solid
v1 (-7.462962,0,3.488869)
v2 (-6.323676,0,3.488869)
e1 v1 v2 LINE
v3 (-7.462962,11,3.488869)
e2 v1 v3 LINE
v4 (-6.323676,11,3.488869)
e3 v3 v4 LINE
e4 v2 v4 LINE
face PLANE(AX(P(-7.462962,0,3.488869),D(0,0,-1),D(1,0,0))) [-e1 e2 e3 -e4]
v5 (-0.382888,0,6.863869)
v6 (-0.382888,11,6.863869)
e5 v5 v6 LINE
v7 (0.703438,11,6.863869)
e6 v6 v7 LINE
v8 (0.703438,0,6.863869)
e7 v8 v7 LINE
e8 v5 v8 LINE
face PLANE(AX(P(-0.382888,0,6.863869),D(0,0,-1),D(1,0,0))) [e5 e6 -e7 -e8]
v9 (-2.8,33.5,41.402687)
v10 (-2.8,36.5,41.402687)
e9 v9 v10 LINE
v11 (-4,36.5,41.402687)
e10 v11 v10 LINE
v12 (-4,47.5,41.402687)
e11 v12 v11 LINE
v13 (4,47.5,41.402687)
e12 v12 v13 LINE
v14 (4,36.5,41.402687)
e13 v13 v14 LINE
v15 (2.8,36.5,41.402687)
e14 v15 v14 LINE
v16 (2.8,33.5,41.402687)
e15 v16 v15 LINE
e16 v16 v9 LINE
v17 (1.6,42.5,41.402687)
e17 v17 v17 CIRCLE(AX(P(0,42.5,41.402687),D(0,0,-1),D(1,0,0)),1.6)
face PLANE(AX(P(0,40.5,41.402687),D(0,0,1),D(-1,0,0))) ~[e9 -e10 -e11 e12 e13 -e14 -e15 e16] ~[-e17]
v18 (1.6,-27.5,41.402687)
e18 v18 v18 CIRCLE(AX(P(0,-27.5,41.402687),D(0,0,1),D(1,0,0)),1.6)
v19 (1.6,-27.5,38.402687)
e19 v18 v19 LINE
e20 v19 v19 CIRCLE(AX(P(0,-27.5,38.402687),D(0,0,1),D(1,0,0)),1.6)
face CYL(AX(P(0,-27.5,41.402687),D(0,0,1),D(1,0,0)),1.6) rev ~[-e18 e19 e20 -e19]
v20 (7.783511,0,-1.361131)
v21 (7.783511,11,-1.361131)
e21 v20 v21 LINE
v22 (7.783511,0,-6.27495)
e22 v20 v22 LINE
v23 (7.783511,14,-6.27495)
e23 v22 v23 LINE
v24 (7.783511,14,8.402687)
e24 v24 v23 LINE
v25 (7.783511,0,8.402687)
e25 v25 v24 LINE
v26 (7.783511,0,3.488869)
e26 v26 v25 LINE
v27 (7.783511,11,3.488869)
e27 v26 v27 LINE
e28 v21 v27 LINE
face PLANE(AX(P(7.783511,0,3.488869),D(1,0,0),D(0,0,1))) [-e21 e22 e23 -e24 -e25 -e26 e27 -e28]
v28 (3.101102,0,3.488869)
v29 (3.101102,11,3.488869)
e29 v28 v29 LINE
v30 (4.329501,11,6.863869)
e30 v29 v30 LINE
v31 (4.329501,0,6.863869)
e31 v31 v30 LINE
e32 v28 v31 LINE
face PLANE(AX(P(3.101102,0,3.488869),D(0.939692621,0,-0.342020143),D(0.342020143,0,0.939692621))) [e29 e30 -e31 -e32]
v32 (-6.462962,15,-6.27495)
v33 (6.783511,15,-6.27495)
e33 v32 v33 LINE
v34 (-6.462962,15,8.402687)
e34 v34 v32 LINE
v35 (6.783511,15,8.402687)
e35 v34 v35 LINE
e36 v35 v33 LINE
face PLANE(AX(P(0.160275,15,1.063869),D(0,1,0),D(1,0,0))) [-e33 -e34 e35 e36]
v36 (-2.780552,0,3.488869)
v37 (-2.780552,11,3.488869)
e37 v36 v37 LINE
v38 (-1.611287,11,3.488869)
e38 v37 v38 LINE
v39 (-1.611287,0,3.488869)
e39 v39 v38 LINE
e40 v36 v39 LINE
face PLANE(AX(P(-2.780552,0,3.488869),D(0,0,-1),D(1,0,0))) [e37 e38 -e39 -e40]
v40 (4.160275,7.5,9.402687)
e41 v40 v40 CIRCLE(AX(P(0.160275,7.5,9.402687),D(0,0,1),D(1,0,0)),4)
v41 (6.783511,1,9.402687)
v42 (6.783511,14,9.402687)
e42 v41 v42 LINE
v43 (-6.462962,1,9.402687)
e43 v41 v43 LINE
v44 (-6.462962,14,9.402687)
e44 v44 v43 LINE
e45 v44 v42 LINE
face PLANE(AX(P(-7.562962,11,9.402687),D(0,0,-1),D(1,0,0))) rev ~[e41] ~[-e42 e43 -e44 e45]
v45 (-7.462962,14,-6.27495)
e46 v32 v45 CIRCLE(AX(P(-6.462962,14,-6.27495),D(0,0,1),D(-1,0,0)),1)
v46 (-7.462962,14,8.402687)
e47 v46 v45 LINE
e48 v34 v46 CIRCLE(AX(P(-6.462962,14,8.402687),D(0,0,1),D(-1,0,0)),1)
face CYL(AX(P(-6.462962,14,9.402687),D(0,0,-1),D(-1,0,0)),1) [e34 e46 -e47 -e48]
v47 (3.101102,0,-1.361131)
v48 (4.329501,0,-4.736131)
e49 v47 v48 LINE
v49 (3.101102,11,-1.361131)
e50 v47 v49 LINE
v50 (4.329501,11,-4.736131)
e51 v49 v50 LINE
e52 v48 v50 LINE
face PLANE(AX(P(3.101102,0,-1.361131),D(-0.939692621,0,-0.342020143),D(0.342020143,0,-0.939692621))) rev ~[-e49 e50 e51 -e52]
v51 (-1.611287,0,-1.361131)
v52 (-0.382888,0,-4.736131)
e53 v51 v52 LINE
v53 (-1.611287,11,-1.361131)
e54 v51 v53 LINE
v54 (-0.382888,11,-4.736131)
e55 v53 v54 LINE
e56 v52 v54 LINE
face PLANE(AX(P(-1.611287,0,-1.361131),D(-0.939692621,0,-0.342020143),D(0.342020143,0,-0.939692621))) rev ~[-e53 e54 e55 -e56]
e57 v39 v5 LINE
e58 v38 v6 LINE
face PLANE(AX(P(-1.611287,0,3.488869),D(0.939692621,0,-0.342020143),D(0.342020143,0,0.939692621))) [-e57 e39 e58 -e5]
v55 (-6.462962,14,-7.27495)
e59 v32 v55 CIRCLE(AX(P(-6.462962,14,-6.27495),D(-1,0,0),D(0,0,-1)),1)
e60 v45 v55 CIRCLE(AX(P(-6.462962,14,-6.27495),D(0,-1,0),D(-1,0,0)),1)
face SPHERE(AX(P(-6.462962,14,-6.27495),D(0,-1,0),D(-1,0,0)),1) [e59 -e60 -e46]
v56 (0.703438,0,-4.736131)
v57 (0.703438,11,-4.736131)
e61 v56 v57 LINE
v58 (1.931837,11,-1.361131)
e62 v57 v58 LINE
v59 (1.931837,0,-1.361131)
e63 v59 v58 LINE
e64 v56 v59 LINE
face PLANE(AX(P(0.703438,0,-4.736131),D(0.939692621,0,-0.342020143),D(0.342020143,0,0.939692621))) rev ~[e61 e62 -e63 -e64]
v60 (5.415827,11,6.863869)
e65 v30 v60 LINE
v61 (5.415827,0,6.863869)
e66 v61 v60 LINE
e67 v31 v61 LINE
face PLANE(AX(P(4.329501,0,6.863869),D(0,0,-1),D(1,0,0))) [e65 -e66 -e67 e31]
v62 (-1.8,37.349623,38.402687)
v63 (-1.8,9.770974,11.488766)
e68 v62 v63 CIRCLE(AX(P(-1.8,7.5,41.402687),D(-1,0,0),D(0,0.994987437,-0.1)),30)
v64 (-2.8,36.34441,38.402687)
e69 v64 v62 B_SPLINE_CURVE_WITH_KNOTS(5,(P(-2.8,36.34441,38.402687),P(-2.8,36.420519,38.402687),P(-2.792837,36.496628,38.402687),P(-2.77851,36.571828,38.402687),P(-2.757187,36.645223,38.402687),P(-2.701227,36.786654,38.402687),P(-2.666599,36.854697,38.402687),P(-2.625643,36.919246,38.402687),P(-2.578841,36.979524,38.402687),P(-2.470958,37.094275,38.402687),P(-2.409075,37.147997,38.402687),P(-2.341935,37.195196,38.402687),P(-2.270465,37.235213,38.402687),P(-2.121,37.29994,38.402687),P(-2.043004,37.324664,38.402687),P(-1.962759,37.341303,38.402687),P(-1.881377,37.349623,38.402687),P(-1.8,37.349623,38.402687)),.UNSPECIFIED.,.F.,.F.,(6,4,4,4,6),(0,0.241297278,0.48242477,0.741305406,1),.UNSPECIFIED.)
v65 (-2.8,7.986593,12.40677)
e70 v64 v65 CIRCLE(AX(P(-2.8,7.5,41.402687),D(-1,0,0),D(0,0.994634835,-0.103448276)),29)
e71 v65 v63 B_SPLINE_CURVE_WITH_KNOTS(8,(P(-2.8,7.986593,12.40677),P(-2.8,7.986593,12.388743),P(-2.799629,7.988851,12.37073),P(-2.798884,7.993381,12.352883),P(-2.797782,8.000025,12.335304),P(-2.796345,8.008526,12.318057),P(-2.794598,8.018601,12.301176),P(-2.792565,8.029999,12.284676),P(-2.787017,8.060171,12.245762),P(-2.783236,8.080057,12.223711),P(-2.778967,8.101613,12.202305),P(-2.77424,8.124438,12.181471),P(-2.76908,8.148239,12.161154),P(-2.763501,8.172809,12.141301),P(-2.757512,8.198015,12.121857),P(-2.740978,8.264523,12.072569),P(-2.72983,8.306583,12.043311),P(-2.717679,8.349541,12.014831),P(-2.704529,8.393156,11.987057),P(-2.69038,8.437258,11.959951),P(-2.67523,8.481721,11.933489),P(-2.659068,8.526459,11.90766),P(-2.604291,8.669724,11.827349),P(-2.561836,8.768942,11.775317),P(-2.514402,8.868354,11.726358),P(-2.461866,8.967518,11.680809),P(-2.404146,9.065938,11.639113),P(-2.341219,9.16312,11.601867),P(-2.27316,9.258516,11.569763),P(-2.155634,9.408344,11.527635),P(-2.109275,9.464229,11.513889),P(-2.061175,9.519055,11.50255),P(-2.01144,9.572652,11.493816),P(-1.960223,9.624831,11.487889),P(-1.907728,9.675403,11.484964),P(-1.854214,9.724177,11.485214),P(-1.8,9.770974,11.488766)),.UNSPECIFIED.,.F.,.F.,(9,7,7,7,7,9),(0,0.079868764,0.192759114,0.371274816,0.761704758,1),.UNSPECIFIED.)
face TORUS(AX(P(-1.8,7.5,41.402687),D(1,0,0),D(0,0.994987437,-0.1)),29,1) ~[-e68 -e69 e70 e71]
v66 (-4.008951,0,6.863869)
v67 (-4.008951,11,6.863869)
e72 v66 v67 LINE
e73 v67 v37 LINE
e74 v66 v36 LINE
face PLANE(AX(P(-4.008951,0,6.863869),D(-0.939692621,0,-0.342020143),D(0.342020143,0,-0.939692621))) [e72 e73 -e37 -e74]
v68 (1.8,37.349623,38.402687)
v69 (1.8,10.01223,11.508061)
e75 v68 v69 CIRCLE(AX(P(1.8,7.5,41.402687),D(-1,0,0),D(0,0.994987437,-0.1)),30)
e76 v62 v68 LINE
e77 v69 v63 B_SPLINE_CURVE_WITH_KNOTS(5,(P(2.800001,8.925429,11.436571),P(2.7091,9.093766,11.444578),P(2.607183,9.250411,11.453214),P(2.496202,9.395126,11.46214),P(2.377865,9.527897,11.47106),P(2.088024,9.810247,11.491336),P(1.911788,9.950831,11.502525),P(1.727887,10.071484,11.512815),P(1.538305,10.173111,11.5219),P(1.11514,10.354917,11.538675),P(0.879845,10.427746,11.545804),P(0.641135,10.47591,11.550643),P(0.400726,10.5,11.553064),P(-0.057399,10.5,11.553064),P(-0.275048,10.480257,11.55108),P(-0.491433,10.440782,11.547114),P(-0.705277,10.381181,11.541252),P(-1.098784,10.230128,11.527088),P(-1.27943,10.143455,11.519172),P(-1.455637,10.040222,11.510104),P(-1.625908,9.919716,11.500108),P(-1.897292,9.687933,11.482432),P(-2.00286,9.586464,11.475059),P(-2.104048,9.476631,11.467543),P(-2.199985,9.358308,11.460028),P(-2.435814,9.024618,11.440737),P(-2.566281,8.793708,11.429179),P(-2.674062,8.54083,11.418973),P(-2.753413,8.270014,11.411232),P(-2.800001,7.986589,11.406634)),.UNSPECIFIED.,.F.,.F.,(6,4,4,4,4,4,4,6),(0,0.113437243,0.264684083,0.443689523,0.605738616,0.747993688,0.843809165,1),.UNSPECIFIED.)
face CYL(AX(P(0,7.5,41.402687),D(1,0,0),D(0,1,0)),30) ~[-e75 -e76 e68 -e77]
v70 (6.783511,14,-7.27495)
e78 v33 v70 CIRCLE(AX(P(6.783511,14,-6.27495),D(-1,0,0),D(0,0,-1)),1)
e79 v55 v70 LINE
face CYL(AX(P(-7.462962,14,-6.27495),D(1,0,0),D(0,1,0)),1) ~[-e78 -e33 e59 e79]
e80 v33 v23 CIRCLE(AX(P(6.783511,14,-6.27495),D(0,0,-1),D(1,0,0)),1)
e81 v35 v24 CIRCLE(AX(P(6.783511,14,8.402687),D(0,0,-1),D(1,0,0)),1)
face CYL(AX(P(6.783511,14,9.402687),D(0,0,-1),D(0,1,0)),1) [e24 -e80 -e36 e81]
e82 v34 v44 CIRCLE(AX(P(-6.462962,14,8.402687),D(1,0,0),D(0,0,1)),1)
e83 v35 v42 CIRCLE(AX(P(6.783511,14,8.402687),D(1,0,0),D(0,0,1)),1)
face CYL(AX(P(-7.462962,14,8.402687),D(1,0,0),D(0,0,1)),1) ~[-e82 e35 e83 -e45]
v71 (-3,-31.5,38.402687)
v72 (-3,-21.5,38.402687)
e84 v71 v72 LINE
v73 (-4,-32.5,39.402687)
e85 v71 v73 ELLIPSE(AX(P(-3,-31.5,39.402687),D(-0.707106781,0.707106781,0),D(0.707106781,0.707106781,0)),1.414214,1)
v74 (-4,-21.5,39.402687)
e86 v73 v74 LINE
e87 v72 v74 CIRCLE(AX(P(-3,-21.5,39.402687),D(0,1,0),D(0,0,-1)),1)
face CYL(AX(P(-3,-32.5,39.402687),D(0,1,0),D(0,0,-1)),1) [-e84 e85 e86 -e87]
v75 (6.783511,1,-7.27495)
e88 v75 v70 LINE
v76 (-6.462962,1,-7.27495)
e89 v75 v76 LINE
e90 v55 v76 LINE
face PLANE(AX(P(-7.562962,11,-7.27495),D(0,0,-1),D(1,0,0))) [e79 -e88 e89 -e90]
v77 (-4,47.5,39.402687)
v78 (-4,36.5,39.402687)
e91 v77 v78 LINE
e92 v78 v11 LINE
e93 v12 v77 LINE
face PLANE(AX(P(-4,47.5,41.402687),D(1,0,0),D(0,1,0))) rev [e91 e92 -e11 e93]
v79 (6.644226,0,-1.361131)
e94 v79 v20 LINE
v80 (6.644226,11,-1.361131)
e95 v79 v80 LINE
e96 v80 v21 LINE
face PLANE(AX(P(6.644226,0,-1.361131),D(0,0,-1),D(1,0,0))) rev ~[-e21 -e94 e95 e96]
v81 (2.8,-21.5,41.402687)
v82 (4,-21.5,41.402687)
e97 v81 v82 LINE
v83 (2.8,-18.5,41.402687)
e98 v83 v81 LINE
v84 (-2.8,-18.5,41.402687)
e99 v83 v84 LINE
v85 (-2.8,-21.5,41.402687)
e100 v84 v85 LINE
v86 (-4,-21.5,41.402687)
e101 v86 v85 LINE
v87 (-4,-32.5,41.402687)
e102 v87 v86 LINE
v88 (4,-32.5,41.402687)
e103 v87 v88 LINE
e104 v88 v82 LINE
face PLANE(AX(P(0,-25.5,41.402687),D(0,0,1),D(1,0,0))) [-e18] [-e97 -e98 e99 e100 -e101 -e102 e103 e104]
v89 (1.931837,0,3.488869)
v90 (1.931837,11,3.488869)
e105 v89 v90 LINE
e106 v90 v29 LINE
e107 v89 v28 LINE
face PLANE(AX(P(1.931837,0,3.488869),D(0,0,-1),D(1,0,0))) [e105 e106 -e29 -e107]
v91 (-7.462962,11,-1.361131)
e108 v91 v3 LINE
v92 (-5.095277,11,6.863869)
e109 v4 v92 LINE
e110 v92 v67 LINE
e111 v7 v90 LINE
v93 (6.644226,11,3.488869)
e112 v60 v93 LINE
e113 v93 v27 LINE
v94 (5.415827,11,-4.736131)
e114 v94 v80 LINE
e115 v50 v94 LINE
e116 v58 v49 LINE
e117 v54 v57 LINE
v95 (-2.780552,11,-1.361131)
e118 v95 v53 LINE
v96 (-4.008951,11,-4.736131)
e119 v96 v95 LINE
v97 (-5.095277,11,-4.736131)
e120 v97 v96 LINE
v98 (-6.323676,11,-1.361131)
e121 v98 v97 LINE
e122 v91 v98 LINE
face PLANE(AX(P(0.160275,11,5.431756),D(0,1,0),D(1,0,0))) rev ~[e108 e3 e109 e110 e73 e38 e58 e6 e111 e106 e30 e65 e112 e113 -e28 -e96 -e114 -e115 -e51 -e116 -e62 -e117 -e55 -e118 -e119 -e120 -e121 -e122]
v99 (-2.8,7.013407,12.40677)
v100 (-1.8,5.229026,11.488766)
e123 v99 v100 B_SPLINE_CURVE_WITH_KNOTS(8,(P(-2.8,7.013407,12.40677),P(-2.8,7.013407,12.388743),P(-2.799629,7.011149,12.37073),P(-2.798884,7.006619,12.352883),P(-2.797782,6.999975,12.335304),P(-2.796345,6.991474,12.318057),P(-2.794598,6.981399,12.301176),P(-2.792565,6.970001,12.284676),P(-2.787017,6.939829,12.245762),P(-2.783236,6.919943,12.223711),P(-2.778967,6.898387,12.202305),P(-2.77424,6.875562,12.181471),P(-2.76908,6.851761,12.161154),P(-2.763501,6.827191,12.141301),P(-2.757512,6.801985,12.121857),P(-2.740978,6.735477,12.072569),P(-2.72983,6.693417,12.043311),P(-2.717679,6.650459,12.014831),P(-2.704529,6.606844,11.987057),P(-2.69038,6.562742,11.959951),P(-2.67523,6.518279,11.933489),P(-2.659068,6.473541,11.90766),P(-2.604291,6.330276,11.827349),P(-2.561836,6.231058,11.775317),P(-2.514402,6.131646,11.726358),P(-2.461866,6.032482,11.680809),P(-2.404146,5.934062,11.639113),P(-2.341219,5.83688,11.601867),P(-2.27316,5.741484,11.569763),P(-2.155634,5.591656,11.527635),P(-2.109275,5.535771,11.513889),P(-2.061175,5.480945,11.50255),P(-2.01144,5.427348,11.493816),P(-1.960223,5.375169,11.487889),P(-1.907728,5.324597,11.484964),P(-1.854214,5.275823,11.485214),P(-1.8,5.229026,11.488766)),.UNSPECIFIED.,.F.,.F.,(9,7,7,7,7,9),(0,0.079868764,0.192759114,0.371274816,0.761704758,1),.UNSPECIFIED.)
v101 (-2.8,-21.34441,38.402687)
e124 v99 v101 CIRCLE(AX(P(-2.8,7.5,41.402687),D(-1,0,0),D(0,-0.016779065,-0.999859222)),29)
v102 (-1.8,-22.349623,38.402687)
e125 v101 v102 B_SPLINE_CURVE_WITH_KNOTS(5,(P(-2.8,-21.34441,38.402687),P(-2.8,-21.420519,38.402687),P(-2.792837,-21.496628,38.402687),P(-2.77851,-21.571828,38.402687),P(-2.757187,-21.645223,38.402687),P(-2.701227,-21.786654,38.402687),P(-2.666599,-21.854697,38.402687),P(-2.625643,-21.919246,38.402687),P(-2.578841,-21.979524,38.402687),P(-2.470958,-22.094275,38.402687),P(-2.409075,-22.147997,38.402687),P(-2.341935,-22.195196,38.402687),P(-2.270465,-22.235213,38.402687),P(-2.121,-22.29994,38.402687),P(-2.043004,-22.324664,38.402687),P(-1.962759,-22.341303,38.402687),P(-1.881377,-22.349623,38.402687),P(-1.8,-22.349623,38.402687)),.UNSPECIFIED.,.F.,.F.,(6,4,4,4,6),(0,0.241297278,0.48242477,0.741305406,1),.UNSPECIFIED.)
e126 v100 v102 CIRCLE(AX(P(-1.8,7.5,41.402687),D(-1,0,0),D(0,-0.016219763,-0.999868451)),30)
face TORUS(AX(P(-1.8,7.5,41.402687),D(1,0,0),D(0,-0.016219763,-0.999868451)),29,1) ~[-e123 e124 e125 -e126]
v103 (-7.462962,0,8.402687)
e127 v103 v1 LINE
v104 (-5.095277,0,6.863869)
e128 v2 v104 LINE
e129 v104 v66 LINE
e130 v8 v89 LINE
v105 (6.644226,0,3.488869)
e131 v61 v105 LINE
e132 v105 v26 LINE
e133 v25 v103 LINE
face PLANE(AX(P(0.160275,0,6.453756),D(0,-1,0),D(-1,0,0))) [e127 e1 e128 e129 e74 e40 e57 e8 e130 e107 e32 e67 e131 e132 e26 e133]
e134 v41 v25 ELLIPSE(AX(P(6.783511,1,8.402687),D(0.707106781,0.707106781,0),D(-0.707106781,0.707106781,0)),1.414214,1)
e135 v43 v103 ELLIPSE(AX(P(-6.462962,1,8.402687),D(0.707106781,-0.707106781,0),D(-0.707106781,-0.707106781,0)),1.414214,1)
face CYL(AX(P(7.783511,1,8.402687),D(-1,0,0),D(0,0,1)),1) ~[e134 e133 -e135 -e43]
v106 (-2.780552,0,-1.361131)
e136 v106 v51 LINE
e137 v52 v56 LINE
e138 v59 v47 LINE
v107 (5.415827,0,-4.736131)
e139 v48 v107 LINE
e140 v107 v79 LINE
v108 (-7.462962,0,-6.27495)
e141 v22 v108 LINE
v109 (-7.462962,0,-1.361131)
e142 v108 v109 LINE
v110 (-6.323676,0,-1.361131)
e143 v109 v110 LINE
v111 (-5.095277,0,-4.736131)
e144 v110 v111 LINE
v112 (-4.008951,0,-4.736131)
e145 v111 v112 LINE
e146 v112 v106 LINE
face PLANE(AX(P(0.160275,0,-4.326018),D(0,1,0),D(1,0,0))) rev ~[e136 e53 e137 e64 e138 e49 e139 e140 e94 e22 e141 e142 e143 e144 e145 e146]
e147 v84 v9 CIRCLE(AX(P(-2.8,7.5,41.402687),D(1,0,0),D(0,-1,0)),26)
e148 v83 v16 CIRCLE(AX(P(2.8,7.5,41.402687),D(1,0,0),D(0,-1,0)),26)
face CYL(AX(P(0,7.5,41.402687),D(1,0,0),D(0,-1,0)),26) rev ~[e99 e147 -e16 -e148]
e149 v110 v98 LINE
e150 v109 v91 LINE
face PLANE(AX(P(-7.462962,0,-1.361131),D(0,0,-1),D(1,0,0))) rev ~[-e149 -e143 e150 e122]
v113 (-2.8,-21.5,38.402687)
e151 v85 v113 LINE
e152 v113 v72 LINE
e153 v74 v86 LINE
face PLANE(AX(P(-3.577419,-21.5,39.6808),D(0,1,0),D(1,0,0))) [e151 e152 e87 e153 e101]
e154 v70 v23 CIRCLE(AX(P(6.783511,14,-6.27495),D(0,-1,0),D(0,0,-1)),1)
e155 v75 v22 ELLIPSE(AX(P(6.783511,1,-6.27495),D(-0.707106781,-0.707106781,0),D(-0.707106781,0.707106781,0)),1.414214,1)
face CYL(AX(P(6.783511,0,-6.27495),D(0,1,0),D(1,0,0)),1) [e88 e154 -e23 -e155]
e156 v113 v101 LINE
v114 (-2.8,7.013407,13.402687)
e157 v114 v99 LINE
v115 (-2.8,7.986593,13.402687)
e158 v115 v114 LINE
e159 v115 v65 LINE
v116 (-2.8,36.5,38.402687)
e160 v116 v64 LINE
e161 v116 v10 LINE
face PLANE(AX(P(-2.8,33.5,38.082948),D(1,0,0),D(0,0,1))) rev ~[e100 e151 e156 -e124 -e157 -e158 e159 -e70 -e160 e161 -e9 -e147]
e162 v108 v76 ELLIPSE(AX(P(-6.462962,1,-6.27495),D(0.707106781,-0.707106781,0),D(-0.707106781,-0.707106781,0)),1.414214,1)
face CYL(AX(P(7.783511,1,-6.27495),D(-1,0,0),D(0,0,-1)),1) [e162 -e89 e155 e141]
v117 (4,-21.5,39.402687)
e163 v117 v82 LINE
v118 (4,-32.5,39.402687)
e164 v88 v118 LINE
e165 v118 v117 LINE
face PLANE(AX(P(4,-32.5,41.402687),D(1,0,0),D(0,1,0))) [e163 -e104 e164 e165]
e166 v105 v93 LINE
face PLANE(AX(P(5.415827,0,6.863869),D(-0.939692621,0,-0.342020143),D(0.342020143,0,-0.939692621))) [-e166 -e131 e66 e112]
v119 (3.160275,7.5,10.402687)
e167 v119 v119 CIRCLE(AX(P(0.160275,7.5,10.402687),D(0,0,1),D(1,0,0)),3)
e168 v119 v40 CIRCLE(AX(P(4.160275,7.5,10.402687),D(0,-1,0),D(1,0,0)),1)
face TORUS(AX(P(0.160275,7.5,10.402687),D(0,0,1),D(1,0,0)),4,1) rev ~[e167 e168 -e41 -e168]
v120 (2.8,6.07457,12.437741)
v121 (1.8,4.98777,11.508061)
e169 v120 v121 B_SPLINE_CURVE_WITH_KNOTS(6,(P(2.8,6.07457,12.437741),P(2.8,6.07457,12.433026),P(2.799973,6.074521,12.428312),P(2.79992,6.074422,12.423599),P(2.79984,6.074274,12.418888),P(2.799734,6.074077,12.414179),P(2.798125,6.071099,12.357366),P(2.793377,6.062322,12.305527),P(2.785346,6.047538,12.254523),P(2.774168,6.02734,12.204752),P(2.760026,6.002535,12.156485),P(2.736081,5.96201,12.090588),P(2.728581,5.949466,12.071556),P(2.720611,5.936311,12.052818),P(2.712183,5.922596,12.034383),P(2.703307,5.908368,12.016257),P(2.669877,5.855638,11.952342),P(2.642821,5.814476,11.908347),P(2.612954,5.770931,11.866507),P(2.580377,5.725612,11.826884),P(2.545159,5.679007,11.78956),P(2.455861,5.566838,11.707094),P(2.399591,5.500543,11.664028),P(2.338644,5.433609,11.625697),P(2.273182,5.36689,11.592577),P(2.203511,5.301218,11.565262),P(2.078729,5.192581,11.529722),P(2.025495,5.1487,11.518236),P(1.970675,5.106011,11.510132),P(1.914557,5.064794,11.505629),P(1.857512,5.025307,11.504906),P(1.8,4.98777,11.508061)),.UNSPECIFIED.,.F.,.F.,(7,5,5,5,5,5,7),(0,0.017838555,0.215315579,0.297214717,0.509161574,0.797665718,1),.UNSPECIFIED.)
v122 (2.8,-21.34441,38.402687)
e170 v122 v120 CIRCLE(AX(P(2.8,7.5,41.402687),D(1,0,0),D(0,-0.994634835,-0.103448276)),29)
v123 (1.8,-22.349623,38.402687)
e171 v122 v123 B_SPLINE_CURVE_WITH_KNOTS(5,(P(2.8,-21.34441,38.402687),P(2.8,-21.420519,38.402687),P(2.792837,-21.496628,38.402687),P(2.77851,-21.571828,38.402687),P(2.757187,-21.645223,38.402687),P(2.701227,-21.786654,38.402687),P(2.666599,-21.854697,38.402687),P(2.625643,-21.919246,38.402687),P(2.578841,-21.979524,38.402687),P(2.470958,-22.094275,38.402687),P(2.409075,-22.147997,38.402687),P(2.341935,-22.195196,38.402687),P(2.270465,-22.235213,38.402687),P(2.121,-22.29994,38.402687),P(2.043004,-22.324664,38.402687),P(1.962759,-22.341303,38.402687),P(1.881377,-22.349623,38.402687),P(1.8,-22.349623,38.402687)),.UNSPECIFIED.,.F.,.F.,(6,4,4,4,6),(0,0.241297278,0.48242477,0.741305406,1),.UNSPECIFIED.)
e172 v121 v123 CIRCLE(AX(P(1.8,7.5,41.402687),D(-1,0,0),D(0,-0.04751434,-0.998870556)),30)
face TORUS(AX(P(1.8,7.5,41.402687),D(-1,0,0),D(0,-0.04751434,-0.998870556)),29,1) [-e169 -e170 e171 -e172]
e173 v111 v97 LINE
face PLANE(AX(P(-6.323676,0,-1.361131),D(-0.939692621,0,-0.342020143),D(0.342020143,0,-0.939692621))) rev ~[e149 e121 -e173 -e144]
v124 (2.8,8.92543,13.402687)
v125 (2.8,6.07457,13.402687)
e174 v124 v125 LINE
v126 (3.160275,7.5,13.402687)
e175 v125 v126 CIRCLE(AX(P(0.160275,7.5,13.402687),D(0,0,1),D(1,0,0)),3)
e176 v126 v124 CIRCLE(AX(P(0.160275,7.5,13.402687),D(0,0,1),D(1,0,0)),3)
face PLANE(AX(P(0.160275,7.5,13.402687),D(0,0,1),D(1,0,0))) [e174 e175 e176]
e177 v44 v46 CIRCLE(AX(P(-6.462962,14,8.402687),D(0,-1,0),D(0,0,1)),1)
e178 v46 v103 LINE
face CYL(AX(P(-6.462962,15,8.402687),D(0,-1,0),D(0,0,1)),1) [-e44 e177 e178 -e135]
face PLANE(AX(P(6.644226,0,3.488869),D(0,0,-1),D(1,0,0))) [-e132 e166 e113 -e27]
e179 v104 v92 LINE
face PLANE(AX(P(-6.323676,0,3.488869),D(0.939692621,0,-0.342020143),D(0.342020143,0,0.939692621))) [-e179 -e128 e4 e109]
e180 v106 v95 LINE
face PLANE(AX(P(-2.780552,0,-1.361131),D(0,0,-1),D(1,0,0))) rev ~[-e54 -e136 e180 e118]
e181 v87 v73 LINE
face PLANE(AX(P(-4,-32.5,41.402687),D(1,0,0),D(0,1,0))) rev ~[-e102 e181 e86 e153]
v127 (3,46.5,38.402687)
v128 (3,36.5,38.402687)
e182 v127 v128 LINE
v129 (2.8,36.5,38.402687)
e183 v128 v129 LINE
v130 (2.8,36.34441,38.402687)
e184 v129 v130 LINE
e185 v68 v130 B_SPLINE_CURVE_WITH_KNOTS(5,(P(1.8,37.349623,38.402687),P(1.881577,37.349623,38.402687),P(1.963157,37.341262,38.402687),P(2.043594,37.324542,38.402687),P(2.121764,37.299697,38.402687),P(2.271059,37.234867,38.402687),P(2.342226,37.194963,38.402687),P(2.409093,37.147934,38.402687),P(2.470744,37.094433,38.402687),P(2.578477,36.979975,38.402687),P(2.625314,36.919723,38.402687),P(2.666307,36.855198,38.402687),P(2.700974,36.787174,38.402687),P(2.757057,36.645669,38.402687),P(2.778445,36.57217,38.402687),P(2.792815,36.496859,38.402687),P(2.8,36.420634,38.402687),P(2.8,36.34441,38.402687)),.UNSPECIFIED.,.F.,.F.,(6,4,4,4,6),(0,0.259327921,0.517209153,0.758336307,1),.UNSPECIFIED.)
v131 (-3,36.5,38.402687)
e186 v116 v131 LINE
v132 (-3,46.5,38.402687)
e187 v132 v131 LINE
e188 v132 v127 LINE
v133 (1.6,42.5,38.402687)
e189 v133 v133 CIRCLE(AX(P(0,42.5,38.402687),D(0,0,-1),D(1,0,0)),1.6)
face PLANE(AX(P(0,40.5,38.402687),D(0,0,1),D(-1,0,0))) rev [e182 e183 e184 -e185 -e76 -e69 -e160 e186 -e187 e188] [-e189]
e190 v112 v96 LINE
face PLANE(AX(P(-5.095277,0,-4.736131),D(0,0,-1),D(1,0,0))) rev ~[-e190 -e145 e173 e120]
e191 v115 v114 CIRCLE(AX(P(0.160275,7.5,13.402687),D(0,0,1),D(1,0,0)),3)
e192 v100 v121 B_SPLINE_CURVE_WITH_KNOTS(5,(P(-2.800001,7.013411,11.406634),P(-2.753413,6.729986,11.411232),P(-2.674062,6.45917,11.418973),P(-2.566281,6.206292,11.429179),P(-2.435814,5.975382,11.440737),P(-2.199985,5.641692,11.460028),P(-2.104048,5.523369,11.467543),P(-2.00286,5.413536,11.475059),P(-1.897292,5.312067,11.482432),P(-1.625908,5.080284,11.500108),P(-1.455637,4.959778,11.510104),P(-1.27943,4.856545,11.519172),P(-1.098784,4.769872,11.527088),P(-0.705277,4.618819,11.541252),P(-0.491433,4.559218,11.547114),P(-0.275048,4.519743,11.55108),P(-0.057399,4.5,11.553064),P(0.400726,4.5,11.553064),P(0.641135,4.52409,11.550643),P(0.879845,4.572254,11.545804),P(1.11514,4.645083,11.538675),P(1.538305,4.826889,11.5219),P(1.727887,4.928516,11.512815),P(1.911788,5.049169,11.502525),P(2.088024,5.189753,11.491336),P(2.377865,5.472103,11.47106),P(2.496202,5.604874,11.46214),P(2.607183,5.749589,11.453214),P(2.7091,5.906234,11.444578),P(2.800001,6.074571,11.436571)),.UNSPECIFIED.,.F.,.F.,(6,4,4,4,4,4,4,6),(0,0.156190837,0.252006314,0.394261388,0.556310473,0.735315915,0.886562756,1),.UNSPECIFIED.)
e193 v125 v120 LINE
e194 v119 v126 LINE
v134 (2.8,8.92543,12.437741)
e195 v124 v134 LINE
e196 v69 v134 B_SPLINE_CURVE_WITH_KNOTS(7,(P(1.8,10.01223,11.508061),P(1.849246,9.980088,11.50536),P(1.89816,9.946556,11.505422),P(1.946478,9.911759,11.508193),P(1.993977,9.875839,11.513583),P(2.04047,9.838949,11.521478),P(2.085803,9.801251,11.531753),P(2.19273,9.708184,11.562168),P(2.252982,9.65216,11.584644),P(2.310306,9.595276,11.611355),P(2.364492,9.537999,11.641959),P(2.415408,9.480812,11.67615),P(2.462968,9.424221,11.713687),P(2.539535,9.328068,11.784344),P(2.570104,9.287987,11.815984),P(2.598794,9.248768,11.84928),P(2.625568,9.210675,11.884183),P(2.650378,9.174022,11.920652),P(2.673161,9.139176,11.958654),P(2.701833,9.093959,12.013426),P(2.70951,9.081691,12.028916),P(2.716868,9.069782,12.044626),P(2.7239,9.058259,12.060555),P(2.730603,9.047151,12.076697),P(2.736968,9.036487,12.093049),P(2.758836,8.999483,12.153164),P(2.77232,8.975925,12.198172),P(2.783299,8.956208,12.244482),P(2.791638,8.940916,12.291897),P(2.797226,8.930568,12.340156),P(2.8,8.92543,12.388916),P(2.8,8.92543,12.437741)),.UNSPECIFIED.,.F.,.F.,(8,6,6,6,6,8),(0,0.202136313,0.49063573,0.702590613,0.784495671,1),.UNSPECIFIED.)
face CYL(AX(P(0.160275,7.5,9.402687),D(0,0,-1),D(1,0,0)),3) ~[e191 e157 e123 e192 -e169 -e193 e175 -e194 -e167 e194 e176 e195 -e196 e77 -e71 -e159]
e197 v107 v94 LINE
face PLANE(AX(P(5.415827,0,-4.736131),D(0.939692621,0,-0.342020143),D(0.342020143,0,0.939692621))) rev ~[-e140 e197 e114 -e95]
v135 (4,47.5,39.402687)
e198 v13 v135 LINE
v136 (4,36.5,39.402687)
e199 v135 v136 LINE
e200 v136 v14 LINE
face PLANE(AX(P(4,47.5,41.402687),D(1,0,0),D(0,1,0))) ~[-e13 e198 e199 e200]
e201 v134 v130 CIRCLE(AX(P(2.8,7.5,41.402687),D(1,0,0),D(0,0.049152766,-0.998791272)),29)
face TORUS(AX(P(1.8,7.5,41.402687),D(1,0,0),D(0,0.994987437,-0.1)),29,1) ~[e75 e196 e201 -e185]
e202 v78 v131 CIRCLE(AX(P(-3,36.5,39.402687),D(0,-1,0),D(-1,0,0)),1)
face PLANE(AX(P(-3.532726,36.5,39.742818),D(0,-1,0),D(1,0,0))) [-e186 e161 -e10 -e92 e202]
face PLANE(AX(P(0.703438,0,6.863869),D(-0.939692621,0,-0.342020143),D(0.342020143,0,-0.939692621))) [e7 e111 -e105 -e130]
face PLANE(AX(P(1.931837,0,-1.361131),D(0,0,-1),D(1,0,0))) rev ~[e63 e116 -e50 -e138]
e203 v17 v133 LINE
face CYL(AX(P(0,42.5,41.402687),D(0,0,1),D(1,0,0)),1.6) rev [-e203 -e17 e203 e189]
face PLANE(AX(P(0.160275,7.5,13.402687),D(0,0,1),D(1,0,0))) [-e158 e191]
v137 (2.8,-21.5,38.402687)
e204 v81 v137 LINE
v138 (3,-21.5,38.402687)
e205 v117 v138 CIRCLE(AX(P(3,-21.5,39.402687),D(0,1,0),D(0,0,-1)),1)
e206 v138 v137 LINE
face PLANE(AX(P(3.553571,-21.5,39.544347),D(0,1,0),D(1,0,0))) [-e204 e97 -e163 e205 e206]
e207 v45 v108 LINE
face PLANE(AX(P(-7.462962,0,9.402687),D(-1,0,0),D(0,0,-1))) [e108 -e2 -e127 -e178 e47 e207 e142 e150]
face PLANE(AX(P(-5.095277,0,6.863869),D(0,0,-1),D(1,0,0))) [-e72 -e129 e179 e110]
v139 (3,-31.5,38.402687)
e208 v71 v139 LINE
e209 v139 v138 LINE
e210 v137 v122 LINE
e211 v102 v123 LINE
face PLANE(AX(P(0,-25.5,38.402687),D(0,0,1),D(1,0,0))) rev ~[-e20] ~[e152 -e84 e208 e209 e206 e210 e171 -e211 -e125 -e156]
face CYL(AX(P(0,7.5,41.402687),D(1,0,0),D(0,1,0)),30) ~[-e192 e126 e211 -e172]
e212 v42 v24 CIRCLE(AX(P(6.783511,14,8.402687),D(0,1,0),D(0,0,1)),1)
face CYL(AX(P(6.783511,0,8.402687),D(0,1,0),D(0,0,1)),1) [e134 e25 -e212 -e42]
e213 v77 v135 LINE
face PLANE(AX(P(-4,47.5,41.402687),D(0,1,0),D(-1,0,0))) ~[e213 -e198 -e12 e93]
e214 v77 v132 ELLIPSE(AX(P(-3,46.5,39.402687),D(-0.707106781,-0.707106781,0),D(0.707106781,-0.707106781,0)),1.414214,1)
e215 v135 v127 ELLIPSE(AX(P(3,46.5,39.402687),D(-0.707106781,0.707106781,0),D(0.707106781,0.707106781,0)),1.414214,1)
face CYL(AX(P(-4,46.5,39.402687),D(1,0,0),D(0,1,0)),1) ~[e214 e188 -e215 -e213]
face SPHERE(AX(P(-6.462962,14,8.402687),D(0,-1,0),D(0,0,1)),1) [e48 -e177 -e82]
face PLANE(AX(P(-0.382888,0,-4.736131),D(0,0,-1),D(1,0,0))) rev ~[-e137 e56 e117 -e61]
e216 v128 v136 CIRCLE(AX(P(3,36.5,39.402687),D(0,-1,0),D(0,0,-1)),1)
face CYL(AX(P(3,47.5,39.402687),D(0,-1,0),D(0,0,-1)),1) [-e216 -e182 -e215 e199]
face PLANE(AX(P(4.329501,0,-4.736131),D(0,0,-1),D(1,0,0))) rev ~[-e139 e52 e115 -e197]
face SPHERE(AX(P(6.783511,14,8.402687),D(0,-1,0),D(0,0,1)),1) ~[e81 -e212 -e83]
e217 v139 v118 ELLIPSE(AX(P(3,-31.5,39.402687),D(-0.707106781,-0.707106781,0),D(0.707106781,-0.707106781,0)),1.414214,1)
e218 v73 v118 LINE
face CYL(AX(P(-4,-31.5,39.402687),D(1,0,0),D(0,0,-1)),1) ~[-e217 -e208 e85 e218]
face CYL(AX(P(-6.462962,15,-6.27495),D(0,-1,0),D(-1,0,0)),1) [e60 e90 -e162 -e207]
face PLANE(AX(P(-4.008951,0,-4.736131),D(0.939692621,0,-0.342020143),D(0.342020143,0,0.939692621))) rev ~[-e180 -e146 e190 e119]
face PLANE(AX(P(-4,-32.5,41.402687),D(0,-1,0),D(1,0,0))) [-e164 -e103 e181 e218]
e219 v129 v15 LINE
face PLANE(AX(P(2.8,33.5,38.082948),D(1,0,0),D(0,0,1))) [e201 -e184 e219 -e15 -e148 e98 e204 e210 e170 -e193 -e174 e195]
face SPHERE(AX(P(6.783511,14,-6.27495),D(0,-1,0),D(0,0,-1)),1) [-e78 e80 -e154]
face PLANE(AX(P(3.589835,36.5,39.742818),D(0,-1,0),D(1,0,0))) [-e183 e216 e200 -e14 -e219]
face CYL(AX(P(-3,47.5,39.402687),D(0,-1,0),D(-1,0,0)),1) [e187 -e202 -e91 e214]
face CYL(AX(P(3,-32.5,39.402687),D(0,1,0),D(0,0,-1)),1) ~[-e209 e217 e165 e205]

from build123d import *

# Parameters (mm, degrees)
BOSS_EXTRUDE1_DEPTH   = 11
BOSS_EXTRUDE1_2_DEPTH = 11
SKETCH2_W             = 15.446473034
SKETCH2_H             = 16.677637278
BOSS_EXTRUDE2_DEPTH   = 4
SKETCH3_R             = 3
BOSS_EXTRUDE3_DEPTH   = 4
BOSS_EXTRUDE4_DEPTH   = 2.8
CUT_EXTRUDE1_DEPTH    = 11
SKETCH11_W            = 0.1
SKETCH11_H            = 16.677637278
CUT_EXTRUDE2_DEPTH    = 11
SKETCH12_W            = 8
SKETCH12_H            = 14
SKETCH12_R            = 1.6
BOSS_EXTRUDE5_DEPTH   = 3
FILLET1_R             = 1
SKETCH14_W            = 1.465452289
SKETCH14_H            = 3.319739537
SKETCH14_W_2          = 1.579669893
CUT_EXTRUDE3_DEPTH    = 3
SKETCH15_W            = 1.507141025
SKETCH15_H            = 3.716681852
SKETCH15_W_2          = 1.554838049
SKETCH15_H_2          = 3.443775751
CUT_EXTRUDE4_DEPTH    = 3


with BuildPart() as part:
    # Sketch1 → Boss-Extrude1 (new body)
    with BuildSketch(Plane(origin=(0, 0, 0), x_dir=(1, 0, 0), z_dir=(0, 1, 0))):
        Polygon((6.574205289, -3.388868816), (7.883511398, -3.388868816), (7.883511398, -9.402687455), (-7.562961636, -9.402687455), (-7.562961636, -3.388868816), (-6.253655527, -3.388868816), (-5.025255986, -6.763868816), (-4.078972201, -6.763868816), (-2.850572661, -3.388868816), (-1.541266552, -3.388868816), (-0.312867011, -6.763868816), (0.633416774, -6.763868816), (1.861816314, -3.388868816), (3.171122423, -3.388868816), (4.399521964, -6.763868816), (5.345805749, -6.763868816), align=None)
    extrude(amount=BOSS_EXTRUDE1_DEPTH)



with BuildPart() as body_2:
    # Sketch1 → Boss-Extrude1 2 (new body)
    with BuildSketch(Plane(origin=(0, 0, 0), x_dir=(1, 0, 0), z_dir=(0, 1, 0))):
        Polygon((6.574205289, 1.261131184), (7.883511398, 1.261131184), (7.883511398, 7.274949823), (-7.562961636, 7.274949823), (-7.562961636, 1.261131184), (-6.253655527, 1.261131184), (-5.025255986, 4.636131184), (-4.078972201, 4.636131184), (-2.850572661, 1.261131184), (-1.541266552, 1.261131184), (-0.312867011, 4.636131184), (0.633416774, 4.636131184), (1.861816314, 1.261131184), (3.171122423, 1.261131184), (4.399521964, 4.636131184), (5.345805749, 4.636131184), align=None)
    extrude(amount=BOSS_EXTRUDE1_2_DEPTH)


with BuildPart() as part_1:
    add(part.part)

    add(body_2.part)  # Boss-Extrude2 merges body 2
    # Sketch2 → Boss-Extrude2 (add)
    with BuildSketch(Plane(origin=(0, 11, 0), x_dir=(1, 0, 0), z_dir=(0, 1, 0))):
        with Locations((0.160274881, -1.063868816)):
            Rectangle(SKETCH2_W, SKETCH2_H)
    extrude(amount=BOSS_EXTRUDE2_DEPTH)

    # Sketch3 → Boss-Extrude3 (add)
    with BuildSketch(Plane.XY.offset(9.402687455)):
        with Locations((0.160274881, 7.5)):
            Circle(SKETCH3_R)
    extrude(amount=BOSS_EXTRUDE3_DEPTH)

    # Sketch7 → Boss-Extrude4 (add, symmetric)
    with BuildSketch(Plane(origin=(0, 0, 0), x_dir=(0, 0, -1), z_dir=(1, 0, 0))):
        with BuildLine():
            Line((-41.402687455, -22.5), (-41.402687455, -18.5))
            ThreePointArc((-41.402687455, -18.5), (-15.402687455, 7.5), (-41.402687455, 33.5))
            Line((-41.402687455, 33.5), (-41.402687455, 37.5))
            ThreePointArc((-41.402687455, 37.5), (-11.402687455, 7.5), (-41.402687455, -22.5))
        make_face()
    extrude(amount=BOSS_EXTRUDE4_DEPTH, both=True)

    # Sketch9 → Cut-Extrude1 (cut)
    with BuildSketch(Plane(origin=(0, 0, 0), x_dir=(-1, 0, 0), z_dir=(0, -1, 0))):
        Polygon((7.462961636, -9.402687455), (7.462961636, -3.488868816), (6.323676281, -3.488868816), (5.09527674, -6.863868816), (4.008951448, -6.863868816), (2.780551907, -3.488868816), (1.611287306, -3.488868816), (0.382887765, -6.863868816), (-0.703437527, -6.863868816), (-1.931837068, -3.488868816), (-3.101101669, -3.488868816), (-4.32950121, -6.863868816), (-5.415826502, -6.863868816), (-6.644226043, -3.488868816), (-7.783511398, -3.488868816), (-7.783511398, -9.402687455), (-7.883511398, -9.402687455), (-7.883511398, -3.388868816), (-6.574205289, -3.388868816), (-5.345805749, -6.763868816), (-4.399521964, -6.763868816), (-3.171122423, -3.388868816), (-1.861816314, -3.388868816), (-0.633416774, -6.763868816), (0.312867011, -6.763868816), (1.541266552, -3.388868816), (2.850572661, -3.388868816), (4.078972201, -6.763868816), (5.025255986, -6.763868816), (6.253655527, -3.388868816), (7.562961636, -3.388868816), (7.562961636, -9.402687455), align=None)
        Polygon((7.562961636, 1.261131184), (7.562961636, 7.274949823), (7.462961636, 7.274949823), (7.462961636, 1.361131184), (6.323676281, 1.361131184), (5.09527674, 4.736131184), (4.008951448, 4.736131184), (2.780551907, 1.361131184), (1.611287306, 1.361131184), (0.382887765, 4.736131184), (-0.703437527, 4.736131184), (-1.931837068, 1.361131184), (-3.101101669, 1.361131184), (-4.32950121, 4.736131184), (-5.415826502, 4.736131184), (-6.644226043, 1.361131184), (-7.783511398, 1.361131184), (-7.783511398, 7.274949823), (-7.883511398, 7.274949823), (-7.883511398, 1.261131184), (-6.574205289, 1.261131184), (-5.345805749, 4.636131184), (-4.399521964, 4.636131184), (-3.171122423, 1.261131184), (-1.861816314, 1.261131184), (-0.633416774, 4.636131184), (0.312867011, 4.636131184), (1.541266552, 1.261131184), (2.850572661, 1.261131184), (4.078972201, 4.636131184), (5.025255986, 4.636131184), (6.253655527, 1.261131184), align=None)
    extrude(amount=-CUT_EXTRUDE1_DEPTH, mode=Mode.SUBTRACT)

    # Sketch11 → Cut-Extrude2 (cut)
    with BuildSketch(Plane.XZ.offset(-11)):
        with Locations((7.833511398, 1.063868816)):
            Rectangle(SKETCH11_W, SKETCH11_H)
        with Locations((-7.512961636, 1.063868816)):
            Rectangle(SKETCH11_W, SKETCH11_H)
    extrude(amount=-CUT_EXTRUDE2_DEPTH, mode=Mode.SUBTRACT)

    # Sketch12 → Boss-Extrude5 (add)
    with BuildSketch(Plane.XY.offset(41.402687455)):
        with Locations((0, -25.5)):
            Rectangle(SKETCH12_W, SKETCH12_H)
        with Locations((0, -27.5)):
            Circle(SKETCH12_R, mode=Mode.SUBTRACT)
    boss_extrude5 = extrude(amount=-BOSS_EXTRUDE5_DEPTH)

    # Mirror1: Boss-Extrude5 across plane
    add(boss_extrude5.mirror(Plane.ZX.offset(7.5)))

    # Fillet1
    fillet1_edges = [part_1.edges().sort_by_distance(p)[0] for p in [
        (0.160274881, 0, 9.402687455),
        (-7.462961636, 7.5, 9.402687455),
        (7.783511398, 7.5, 9.402687455),
        (-2.839725119, 7.5, 9.402687455),
        (-7.462961636, 7.5, -7.274949823),
        (0.160274881, 0, -7.274949823),
        (7.783511398, 7.5, -7.274949823),
        (0.160274881, 15, 9.402687455),
        (-7.462961636, 15, 1.063868816),
        (0.160274881, 15, -7.274949823),
        (7.783511398, 15, 1.063868816),
        (0, -32.5, 38.402687455),
        (-4, -25.5, 38.402687455),
        (4, -25.5, 38.402687455),
        (0, 47.5, 38.402687455),
        (4, 40.5, 38.402687455),
        (-4, 40.5, 38.402687455),
        (-2.8, 27.804389345, 19.318037281),
        (2.8, 28.147641568, 19.638613901),
        (-2.8, -12.804389345, 19.318037281),
        (2.8, -13.147641568, 19.638613901),
    ]]
    fillet(fillet1_edges, radius=FILLET1_R)

    # Sketch14 → Cut-Extrude3 (cut)
    with BuildSketch(Plane.XZ.offset(-33.5)):
        with Locations((-3.532726145, 39.742817687)):
            Rectangle(SKETCH14_W, SKETCH14_H)
        with Locations((3.589834946, 39.742817687)):
            Rectangle(SKETCH14_W_2, SKETCH14_H)
    extrude(amount=-CUT_EXTRUDE3_DEPTH, mode=Mode.SUBTRACT)

    # Sketch15 → Cut-Extrude4 (cut)
    with BuildSketch(Plane(origin=(0, -18.5, 0), x_dir=(1, 0, 0), z_dir=(0, 1, 0))):
        with Locations((3.553570513, -39.544346529)):
            Rectangle(SKETCH15_W, SKETCH15_H)
        with Locations((-3.577419025, -39.68079958)):
            Rectangle(SKETCH15_W_2, SKETCH15_H_2)
    extrude(amount=-CUT_EXTRUDE4_DEPTH, mode=Mode.SUBTRACT)


solid = part_1.part
